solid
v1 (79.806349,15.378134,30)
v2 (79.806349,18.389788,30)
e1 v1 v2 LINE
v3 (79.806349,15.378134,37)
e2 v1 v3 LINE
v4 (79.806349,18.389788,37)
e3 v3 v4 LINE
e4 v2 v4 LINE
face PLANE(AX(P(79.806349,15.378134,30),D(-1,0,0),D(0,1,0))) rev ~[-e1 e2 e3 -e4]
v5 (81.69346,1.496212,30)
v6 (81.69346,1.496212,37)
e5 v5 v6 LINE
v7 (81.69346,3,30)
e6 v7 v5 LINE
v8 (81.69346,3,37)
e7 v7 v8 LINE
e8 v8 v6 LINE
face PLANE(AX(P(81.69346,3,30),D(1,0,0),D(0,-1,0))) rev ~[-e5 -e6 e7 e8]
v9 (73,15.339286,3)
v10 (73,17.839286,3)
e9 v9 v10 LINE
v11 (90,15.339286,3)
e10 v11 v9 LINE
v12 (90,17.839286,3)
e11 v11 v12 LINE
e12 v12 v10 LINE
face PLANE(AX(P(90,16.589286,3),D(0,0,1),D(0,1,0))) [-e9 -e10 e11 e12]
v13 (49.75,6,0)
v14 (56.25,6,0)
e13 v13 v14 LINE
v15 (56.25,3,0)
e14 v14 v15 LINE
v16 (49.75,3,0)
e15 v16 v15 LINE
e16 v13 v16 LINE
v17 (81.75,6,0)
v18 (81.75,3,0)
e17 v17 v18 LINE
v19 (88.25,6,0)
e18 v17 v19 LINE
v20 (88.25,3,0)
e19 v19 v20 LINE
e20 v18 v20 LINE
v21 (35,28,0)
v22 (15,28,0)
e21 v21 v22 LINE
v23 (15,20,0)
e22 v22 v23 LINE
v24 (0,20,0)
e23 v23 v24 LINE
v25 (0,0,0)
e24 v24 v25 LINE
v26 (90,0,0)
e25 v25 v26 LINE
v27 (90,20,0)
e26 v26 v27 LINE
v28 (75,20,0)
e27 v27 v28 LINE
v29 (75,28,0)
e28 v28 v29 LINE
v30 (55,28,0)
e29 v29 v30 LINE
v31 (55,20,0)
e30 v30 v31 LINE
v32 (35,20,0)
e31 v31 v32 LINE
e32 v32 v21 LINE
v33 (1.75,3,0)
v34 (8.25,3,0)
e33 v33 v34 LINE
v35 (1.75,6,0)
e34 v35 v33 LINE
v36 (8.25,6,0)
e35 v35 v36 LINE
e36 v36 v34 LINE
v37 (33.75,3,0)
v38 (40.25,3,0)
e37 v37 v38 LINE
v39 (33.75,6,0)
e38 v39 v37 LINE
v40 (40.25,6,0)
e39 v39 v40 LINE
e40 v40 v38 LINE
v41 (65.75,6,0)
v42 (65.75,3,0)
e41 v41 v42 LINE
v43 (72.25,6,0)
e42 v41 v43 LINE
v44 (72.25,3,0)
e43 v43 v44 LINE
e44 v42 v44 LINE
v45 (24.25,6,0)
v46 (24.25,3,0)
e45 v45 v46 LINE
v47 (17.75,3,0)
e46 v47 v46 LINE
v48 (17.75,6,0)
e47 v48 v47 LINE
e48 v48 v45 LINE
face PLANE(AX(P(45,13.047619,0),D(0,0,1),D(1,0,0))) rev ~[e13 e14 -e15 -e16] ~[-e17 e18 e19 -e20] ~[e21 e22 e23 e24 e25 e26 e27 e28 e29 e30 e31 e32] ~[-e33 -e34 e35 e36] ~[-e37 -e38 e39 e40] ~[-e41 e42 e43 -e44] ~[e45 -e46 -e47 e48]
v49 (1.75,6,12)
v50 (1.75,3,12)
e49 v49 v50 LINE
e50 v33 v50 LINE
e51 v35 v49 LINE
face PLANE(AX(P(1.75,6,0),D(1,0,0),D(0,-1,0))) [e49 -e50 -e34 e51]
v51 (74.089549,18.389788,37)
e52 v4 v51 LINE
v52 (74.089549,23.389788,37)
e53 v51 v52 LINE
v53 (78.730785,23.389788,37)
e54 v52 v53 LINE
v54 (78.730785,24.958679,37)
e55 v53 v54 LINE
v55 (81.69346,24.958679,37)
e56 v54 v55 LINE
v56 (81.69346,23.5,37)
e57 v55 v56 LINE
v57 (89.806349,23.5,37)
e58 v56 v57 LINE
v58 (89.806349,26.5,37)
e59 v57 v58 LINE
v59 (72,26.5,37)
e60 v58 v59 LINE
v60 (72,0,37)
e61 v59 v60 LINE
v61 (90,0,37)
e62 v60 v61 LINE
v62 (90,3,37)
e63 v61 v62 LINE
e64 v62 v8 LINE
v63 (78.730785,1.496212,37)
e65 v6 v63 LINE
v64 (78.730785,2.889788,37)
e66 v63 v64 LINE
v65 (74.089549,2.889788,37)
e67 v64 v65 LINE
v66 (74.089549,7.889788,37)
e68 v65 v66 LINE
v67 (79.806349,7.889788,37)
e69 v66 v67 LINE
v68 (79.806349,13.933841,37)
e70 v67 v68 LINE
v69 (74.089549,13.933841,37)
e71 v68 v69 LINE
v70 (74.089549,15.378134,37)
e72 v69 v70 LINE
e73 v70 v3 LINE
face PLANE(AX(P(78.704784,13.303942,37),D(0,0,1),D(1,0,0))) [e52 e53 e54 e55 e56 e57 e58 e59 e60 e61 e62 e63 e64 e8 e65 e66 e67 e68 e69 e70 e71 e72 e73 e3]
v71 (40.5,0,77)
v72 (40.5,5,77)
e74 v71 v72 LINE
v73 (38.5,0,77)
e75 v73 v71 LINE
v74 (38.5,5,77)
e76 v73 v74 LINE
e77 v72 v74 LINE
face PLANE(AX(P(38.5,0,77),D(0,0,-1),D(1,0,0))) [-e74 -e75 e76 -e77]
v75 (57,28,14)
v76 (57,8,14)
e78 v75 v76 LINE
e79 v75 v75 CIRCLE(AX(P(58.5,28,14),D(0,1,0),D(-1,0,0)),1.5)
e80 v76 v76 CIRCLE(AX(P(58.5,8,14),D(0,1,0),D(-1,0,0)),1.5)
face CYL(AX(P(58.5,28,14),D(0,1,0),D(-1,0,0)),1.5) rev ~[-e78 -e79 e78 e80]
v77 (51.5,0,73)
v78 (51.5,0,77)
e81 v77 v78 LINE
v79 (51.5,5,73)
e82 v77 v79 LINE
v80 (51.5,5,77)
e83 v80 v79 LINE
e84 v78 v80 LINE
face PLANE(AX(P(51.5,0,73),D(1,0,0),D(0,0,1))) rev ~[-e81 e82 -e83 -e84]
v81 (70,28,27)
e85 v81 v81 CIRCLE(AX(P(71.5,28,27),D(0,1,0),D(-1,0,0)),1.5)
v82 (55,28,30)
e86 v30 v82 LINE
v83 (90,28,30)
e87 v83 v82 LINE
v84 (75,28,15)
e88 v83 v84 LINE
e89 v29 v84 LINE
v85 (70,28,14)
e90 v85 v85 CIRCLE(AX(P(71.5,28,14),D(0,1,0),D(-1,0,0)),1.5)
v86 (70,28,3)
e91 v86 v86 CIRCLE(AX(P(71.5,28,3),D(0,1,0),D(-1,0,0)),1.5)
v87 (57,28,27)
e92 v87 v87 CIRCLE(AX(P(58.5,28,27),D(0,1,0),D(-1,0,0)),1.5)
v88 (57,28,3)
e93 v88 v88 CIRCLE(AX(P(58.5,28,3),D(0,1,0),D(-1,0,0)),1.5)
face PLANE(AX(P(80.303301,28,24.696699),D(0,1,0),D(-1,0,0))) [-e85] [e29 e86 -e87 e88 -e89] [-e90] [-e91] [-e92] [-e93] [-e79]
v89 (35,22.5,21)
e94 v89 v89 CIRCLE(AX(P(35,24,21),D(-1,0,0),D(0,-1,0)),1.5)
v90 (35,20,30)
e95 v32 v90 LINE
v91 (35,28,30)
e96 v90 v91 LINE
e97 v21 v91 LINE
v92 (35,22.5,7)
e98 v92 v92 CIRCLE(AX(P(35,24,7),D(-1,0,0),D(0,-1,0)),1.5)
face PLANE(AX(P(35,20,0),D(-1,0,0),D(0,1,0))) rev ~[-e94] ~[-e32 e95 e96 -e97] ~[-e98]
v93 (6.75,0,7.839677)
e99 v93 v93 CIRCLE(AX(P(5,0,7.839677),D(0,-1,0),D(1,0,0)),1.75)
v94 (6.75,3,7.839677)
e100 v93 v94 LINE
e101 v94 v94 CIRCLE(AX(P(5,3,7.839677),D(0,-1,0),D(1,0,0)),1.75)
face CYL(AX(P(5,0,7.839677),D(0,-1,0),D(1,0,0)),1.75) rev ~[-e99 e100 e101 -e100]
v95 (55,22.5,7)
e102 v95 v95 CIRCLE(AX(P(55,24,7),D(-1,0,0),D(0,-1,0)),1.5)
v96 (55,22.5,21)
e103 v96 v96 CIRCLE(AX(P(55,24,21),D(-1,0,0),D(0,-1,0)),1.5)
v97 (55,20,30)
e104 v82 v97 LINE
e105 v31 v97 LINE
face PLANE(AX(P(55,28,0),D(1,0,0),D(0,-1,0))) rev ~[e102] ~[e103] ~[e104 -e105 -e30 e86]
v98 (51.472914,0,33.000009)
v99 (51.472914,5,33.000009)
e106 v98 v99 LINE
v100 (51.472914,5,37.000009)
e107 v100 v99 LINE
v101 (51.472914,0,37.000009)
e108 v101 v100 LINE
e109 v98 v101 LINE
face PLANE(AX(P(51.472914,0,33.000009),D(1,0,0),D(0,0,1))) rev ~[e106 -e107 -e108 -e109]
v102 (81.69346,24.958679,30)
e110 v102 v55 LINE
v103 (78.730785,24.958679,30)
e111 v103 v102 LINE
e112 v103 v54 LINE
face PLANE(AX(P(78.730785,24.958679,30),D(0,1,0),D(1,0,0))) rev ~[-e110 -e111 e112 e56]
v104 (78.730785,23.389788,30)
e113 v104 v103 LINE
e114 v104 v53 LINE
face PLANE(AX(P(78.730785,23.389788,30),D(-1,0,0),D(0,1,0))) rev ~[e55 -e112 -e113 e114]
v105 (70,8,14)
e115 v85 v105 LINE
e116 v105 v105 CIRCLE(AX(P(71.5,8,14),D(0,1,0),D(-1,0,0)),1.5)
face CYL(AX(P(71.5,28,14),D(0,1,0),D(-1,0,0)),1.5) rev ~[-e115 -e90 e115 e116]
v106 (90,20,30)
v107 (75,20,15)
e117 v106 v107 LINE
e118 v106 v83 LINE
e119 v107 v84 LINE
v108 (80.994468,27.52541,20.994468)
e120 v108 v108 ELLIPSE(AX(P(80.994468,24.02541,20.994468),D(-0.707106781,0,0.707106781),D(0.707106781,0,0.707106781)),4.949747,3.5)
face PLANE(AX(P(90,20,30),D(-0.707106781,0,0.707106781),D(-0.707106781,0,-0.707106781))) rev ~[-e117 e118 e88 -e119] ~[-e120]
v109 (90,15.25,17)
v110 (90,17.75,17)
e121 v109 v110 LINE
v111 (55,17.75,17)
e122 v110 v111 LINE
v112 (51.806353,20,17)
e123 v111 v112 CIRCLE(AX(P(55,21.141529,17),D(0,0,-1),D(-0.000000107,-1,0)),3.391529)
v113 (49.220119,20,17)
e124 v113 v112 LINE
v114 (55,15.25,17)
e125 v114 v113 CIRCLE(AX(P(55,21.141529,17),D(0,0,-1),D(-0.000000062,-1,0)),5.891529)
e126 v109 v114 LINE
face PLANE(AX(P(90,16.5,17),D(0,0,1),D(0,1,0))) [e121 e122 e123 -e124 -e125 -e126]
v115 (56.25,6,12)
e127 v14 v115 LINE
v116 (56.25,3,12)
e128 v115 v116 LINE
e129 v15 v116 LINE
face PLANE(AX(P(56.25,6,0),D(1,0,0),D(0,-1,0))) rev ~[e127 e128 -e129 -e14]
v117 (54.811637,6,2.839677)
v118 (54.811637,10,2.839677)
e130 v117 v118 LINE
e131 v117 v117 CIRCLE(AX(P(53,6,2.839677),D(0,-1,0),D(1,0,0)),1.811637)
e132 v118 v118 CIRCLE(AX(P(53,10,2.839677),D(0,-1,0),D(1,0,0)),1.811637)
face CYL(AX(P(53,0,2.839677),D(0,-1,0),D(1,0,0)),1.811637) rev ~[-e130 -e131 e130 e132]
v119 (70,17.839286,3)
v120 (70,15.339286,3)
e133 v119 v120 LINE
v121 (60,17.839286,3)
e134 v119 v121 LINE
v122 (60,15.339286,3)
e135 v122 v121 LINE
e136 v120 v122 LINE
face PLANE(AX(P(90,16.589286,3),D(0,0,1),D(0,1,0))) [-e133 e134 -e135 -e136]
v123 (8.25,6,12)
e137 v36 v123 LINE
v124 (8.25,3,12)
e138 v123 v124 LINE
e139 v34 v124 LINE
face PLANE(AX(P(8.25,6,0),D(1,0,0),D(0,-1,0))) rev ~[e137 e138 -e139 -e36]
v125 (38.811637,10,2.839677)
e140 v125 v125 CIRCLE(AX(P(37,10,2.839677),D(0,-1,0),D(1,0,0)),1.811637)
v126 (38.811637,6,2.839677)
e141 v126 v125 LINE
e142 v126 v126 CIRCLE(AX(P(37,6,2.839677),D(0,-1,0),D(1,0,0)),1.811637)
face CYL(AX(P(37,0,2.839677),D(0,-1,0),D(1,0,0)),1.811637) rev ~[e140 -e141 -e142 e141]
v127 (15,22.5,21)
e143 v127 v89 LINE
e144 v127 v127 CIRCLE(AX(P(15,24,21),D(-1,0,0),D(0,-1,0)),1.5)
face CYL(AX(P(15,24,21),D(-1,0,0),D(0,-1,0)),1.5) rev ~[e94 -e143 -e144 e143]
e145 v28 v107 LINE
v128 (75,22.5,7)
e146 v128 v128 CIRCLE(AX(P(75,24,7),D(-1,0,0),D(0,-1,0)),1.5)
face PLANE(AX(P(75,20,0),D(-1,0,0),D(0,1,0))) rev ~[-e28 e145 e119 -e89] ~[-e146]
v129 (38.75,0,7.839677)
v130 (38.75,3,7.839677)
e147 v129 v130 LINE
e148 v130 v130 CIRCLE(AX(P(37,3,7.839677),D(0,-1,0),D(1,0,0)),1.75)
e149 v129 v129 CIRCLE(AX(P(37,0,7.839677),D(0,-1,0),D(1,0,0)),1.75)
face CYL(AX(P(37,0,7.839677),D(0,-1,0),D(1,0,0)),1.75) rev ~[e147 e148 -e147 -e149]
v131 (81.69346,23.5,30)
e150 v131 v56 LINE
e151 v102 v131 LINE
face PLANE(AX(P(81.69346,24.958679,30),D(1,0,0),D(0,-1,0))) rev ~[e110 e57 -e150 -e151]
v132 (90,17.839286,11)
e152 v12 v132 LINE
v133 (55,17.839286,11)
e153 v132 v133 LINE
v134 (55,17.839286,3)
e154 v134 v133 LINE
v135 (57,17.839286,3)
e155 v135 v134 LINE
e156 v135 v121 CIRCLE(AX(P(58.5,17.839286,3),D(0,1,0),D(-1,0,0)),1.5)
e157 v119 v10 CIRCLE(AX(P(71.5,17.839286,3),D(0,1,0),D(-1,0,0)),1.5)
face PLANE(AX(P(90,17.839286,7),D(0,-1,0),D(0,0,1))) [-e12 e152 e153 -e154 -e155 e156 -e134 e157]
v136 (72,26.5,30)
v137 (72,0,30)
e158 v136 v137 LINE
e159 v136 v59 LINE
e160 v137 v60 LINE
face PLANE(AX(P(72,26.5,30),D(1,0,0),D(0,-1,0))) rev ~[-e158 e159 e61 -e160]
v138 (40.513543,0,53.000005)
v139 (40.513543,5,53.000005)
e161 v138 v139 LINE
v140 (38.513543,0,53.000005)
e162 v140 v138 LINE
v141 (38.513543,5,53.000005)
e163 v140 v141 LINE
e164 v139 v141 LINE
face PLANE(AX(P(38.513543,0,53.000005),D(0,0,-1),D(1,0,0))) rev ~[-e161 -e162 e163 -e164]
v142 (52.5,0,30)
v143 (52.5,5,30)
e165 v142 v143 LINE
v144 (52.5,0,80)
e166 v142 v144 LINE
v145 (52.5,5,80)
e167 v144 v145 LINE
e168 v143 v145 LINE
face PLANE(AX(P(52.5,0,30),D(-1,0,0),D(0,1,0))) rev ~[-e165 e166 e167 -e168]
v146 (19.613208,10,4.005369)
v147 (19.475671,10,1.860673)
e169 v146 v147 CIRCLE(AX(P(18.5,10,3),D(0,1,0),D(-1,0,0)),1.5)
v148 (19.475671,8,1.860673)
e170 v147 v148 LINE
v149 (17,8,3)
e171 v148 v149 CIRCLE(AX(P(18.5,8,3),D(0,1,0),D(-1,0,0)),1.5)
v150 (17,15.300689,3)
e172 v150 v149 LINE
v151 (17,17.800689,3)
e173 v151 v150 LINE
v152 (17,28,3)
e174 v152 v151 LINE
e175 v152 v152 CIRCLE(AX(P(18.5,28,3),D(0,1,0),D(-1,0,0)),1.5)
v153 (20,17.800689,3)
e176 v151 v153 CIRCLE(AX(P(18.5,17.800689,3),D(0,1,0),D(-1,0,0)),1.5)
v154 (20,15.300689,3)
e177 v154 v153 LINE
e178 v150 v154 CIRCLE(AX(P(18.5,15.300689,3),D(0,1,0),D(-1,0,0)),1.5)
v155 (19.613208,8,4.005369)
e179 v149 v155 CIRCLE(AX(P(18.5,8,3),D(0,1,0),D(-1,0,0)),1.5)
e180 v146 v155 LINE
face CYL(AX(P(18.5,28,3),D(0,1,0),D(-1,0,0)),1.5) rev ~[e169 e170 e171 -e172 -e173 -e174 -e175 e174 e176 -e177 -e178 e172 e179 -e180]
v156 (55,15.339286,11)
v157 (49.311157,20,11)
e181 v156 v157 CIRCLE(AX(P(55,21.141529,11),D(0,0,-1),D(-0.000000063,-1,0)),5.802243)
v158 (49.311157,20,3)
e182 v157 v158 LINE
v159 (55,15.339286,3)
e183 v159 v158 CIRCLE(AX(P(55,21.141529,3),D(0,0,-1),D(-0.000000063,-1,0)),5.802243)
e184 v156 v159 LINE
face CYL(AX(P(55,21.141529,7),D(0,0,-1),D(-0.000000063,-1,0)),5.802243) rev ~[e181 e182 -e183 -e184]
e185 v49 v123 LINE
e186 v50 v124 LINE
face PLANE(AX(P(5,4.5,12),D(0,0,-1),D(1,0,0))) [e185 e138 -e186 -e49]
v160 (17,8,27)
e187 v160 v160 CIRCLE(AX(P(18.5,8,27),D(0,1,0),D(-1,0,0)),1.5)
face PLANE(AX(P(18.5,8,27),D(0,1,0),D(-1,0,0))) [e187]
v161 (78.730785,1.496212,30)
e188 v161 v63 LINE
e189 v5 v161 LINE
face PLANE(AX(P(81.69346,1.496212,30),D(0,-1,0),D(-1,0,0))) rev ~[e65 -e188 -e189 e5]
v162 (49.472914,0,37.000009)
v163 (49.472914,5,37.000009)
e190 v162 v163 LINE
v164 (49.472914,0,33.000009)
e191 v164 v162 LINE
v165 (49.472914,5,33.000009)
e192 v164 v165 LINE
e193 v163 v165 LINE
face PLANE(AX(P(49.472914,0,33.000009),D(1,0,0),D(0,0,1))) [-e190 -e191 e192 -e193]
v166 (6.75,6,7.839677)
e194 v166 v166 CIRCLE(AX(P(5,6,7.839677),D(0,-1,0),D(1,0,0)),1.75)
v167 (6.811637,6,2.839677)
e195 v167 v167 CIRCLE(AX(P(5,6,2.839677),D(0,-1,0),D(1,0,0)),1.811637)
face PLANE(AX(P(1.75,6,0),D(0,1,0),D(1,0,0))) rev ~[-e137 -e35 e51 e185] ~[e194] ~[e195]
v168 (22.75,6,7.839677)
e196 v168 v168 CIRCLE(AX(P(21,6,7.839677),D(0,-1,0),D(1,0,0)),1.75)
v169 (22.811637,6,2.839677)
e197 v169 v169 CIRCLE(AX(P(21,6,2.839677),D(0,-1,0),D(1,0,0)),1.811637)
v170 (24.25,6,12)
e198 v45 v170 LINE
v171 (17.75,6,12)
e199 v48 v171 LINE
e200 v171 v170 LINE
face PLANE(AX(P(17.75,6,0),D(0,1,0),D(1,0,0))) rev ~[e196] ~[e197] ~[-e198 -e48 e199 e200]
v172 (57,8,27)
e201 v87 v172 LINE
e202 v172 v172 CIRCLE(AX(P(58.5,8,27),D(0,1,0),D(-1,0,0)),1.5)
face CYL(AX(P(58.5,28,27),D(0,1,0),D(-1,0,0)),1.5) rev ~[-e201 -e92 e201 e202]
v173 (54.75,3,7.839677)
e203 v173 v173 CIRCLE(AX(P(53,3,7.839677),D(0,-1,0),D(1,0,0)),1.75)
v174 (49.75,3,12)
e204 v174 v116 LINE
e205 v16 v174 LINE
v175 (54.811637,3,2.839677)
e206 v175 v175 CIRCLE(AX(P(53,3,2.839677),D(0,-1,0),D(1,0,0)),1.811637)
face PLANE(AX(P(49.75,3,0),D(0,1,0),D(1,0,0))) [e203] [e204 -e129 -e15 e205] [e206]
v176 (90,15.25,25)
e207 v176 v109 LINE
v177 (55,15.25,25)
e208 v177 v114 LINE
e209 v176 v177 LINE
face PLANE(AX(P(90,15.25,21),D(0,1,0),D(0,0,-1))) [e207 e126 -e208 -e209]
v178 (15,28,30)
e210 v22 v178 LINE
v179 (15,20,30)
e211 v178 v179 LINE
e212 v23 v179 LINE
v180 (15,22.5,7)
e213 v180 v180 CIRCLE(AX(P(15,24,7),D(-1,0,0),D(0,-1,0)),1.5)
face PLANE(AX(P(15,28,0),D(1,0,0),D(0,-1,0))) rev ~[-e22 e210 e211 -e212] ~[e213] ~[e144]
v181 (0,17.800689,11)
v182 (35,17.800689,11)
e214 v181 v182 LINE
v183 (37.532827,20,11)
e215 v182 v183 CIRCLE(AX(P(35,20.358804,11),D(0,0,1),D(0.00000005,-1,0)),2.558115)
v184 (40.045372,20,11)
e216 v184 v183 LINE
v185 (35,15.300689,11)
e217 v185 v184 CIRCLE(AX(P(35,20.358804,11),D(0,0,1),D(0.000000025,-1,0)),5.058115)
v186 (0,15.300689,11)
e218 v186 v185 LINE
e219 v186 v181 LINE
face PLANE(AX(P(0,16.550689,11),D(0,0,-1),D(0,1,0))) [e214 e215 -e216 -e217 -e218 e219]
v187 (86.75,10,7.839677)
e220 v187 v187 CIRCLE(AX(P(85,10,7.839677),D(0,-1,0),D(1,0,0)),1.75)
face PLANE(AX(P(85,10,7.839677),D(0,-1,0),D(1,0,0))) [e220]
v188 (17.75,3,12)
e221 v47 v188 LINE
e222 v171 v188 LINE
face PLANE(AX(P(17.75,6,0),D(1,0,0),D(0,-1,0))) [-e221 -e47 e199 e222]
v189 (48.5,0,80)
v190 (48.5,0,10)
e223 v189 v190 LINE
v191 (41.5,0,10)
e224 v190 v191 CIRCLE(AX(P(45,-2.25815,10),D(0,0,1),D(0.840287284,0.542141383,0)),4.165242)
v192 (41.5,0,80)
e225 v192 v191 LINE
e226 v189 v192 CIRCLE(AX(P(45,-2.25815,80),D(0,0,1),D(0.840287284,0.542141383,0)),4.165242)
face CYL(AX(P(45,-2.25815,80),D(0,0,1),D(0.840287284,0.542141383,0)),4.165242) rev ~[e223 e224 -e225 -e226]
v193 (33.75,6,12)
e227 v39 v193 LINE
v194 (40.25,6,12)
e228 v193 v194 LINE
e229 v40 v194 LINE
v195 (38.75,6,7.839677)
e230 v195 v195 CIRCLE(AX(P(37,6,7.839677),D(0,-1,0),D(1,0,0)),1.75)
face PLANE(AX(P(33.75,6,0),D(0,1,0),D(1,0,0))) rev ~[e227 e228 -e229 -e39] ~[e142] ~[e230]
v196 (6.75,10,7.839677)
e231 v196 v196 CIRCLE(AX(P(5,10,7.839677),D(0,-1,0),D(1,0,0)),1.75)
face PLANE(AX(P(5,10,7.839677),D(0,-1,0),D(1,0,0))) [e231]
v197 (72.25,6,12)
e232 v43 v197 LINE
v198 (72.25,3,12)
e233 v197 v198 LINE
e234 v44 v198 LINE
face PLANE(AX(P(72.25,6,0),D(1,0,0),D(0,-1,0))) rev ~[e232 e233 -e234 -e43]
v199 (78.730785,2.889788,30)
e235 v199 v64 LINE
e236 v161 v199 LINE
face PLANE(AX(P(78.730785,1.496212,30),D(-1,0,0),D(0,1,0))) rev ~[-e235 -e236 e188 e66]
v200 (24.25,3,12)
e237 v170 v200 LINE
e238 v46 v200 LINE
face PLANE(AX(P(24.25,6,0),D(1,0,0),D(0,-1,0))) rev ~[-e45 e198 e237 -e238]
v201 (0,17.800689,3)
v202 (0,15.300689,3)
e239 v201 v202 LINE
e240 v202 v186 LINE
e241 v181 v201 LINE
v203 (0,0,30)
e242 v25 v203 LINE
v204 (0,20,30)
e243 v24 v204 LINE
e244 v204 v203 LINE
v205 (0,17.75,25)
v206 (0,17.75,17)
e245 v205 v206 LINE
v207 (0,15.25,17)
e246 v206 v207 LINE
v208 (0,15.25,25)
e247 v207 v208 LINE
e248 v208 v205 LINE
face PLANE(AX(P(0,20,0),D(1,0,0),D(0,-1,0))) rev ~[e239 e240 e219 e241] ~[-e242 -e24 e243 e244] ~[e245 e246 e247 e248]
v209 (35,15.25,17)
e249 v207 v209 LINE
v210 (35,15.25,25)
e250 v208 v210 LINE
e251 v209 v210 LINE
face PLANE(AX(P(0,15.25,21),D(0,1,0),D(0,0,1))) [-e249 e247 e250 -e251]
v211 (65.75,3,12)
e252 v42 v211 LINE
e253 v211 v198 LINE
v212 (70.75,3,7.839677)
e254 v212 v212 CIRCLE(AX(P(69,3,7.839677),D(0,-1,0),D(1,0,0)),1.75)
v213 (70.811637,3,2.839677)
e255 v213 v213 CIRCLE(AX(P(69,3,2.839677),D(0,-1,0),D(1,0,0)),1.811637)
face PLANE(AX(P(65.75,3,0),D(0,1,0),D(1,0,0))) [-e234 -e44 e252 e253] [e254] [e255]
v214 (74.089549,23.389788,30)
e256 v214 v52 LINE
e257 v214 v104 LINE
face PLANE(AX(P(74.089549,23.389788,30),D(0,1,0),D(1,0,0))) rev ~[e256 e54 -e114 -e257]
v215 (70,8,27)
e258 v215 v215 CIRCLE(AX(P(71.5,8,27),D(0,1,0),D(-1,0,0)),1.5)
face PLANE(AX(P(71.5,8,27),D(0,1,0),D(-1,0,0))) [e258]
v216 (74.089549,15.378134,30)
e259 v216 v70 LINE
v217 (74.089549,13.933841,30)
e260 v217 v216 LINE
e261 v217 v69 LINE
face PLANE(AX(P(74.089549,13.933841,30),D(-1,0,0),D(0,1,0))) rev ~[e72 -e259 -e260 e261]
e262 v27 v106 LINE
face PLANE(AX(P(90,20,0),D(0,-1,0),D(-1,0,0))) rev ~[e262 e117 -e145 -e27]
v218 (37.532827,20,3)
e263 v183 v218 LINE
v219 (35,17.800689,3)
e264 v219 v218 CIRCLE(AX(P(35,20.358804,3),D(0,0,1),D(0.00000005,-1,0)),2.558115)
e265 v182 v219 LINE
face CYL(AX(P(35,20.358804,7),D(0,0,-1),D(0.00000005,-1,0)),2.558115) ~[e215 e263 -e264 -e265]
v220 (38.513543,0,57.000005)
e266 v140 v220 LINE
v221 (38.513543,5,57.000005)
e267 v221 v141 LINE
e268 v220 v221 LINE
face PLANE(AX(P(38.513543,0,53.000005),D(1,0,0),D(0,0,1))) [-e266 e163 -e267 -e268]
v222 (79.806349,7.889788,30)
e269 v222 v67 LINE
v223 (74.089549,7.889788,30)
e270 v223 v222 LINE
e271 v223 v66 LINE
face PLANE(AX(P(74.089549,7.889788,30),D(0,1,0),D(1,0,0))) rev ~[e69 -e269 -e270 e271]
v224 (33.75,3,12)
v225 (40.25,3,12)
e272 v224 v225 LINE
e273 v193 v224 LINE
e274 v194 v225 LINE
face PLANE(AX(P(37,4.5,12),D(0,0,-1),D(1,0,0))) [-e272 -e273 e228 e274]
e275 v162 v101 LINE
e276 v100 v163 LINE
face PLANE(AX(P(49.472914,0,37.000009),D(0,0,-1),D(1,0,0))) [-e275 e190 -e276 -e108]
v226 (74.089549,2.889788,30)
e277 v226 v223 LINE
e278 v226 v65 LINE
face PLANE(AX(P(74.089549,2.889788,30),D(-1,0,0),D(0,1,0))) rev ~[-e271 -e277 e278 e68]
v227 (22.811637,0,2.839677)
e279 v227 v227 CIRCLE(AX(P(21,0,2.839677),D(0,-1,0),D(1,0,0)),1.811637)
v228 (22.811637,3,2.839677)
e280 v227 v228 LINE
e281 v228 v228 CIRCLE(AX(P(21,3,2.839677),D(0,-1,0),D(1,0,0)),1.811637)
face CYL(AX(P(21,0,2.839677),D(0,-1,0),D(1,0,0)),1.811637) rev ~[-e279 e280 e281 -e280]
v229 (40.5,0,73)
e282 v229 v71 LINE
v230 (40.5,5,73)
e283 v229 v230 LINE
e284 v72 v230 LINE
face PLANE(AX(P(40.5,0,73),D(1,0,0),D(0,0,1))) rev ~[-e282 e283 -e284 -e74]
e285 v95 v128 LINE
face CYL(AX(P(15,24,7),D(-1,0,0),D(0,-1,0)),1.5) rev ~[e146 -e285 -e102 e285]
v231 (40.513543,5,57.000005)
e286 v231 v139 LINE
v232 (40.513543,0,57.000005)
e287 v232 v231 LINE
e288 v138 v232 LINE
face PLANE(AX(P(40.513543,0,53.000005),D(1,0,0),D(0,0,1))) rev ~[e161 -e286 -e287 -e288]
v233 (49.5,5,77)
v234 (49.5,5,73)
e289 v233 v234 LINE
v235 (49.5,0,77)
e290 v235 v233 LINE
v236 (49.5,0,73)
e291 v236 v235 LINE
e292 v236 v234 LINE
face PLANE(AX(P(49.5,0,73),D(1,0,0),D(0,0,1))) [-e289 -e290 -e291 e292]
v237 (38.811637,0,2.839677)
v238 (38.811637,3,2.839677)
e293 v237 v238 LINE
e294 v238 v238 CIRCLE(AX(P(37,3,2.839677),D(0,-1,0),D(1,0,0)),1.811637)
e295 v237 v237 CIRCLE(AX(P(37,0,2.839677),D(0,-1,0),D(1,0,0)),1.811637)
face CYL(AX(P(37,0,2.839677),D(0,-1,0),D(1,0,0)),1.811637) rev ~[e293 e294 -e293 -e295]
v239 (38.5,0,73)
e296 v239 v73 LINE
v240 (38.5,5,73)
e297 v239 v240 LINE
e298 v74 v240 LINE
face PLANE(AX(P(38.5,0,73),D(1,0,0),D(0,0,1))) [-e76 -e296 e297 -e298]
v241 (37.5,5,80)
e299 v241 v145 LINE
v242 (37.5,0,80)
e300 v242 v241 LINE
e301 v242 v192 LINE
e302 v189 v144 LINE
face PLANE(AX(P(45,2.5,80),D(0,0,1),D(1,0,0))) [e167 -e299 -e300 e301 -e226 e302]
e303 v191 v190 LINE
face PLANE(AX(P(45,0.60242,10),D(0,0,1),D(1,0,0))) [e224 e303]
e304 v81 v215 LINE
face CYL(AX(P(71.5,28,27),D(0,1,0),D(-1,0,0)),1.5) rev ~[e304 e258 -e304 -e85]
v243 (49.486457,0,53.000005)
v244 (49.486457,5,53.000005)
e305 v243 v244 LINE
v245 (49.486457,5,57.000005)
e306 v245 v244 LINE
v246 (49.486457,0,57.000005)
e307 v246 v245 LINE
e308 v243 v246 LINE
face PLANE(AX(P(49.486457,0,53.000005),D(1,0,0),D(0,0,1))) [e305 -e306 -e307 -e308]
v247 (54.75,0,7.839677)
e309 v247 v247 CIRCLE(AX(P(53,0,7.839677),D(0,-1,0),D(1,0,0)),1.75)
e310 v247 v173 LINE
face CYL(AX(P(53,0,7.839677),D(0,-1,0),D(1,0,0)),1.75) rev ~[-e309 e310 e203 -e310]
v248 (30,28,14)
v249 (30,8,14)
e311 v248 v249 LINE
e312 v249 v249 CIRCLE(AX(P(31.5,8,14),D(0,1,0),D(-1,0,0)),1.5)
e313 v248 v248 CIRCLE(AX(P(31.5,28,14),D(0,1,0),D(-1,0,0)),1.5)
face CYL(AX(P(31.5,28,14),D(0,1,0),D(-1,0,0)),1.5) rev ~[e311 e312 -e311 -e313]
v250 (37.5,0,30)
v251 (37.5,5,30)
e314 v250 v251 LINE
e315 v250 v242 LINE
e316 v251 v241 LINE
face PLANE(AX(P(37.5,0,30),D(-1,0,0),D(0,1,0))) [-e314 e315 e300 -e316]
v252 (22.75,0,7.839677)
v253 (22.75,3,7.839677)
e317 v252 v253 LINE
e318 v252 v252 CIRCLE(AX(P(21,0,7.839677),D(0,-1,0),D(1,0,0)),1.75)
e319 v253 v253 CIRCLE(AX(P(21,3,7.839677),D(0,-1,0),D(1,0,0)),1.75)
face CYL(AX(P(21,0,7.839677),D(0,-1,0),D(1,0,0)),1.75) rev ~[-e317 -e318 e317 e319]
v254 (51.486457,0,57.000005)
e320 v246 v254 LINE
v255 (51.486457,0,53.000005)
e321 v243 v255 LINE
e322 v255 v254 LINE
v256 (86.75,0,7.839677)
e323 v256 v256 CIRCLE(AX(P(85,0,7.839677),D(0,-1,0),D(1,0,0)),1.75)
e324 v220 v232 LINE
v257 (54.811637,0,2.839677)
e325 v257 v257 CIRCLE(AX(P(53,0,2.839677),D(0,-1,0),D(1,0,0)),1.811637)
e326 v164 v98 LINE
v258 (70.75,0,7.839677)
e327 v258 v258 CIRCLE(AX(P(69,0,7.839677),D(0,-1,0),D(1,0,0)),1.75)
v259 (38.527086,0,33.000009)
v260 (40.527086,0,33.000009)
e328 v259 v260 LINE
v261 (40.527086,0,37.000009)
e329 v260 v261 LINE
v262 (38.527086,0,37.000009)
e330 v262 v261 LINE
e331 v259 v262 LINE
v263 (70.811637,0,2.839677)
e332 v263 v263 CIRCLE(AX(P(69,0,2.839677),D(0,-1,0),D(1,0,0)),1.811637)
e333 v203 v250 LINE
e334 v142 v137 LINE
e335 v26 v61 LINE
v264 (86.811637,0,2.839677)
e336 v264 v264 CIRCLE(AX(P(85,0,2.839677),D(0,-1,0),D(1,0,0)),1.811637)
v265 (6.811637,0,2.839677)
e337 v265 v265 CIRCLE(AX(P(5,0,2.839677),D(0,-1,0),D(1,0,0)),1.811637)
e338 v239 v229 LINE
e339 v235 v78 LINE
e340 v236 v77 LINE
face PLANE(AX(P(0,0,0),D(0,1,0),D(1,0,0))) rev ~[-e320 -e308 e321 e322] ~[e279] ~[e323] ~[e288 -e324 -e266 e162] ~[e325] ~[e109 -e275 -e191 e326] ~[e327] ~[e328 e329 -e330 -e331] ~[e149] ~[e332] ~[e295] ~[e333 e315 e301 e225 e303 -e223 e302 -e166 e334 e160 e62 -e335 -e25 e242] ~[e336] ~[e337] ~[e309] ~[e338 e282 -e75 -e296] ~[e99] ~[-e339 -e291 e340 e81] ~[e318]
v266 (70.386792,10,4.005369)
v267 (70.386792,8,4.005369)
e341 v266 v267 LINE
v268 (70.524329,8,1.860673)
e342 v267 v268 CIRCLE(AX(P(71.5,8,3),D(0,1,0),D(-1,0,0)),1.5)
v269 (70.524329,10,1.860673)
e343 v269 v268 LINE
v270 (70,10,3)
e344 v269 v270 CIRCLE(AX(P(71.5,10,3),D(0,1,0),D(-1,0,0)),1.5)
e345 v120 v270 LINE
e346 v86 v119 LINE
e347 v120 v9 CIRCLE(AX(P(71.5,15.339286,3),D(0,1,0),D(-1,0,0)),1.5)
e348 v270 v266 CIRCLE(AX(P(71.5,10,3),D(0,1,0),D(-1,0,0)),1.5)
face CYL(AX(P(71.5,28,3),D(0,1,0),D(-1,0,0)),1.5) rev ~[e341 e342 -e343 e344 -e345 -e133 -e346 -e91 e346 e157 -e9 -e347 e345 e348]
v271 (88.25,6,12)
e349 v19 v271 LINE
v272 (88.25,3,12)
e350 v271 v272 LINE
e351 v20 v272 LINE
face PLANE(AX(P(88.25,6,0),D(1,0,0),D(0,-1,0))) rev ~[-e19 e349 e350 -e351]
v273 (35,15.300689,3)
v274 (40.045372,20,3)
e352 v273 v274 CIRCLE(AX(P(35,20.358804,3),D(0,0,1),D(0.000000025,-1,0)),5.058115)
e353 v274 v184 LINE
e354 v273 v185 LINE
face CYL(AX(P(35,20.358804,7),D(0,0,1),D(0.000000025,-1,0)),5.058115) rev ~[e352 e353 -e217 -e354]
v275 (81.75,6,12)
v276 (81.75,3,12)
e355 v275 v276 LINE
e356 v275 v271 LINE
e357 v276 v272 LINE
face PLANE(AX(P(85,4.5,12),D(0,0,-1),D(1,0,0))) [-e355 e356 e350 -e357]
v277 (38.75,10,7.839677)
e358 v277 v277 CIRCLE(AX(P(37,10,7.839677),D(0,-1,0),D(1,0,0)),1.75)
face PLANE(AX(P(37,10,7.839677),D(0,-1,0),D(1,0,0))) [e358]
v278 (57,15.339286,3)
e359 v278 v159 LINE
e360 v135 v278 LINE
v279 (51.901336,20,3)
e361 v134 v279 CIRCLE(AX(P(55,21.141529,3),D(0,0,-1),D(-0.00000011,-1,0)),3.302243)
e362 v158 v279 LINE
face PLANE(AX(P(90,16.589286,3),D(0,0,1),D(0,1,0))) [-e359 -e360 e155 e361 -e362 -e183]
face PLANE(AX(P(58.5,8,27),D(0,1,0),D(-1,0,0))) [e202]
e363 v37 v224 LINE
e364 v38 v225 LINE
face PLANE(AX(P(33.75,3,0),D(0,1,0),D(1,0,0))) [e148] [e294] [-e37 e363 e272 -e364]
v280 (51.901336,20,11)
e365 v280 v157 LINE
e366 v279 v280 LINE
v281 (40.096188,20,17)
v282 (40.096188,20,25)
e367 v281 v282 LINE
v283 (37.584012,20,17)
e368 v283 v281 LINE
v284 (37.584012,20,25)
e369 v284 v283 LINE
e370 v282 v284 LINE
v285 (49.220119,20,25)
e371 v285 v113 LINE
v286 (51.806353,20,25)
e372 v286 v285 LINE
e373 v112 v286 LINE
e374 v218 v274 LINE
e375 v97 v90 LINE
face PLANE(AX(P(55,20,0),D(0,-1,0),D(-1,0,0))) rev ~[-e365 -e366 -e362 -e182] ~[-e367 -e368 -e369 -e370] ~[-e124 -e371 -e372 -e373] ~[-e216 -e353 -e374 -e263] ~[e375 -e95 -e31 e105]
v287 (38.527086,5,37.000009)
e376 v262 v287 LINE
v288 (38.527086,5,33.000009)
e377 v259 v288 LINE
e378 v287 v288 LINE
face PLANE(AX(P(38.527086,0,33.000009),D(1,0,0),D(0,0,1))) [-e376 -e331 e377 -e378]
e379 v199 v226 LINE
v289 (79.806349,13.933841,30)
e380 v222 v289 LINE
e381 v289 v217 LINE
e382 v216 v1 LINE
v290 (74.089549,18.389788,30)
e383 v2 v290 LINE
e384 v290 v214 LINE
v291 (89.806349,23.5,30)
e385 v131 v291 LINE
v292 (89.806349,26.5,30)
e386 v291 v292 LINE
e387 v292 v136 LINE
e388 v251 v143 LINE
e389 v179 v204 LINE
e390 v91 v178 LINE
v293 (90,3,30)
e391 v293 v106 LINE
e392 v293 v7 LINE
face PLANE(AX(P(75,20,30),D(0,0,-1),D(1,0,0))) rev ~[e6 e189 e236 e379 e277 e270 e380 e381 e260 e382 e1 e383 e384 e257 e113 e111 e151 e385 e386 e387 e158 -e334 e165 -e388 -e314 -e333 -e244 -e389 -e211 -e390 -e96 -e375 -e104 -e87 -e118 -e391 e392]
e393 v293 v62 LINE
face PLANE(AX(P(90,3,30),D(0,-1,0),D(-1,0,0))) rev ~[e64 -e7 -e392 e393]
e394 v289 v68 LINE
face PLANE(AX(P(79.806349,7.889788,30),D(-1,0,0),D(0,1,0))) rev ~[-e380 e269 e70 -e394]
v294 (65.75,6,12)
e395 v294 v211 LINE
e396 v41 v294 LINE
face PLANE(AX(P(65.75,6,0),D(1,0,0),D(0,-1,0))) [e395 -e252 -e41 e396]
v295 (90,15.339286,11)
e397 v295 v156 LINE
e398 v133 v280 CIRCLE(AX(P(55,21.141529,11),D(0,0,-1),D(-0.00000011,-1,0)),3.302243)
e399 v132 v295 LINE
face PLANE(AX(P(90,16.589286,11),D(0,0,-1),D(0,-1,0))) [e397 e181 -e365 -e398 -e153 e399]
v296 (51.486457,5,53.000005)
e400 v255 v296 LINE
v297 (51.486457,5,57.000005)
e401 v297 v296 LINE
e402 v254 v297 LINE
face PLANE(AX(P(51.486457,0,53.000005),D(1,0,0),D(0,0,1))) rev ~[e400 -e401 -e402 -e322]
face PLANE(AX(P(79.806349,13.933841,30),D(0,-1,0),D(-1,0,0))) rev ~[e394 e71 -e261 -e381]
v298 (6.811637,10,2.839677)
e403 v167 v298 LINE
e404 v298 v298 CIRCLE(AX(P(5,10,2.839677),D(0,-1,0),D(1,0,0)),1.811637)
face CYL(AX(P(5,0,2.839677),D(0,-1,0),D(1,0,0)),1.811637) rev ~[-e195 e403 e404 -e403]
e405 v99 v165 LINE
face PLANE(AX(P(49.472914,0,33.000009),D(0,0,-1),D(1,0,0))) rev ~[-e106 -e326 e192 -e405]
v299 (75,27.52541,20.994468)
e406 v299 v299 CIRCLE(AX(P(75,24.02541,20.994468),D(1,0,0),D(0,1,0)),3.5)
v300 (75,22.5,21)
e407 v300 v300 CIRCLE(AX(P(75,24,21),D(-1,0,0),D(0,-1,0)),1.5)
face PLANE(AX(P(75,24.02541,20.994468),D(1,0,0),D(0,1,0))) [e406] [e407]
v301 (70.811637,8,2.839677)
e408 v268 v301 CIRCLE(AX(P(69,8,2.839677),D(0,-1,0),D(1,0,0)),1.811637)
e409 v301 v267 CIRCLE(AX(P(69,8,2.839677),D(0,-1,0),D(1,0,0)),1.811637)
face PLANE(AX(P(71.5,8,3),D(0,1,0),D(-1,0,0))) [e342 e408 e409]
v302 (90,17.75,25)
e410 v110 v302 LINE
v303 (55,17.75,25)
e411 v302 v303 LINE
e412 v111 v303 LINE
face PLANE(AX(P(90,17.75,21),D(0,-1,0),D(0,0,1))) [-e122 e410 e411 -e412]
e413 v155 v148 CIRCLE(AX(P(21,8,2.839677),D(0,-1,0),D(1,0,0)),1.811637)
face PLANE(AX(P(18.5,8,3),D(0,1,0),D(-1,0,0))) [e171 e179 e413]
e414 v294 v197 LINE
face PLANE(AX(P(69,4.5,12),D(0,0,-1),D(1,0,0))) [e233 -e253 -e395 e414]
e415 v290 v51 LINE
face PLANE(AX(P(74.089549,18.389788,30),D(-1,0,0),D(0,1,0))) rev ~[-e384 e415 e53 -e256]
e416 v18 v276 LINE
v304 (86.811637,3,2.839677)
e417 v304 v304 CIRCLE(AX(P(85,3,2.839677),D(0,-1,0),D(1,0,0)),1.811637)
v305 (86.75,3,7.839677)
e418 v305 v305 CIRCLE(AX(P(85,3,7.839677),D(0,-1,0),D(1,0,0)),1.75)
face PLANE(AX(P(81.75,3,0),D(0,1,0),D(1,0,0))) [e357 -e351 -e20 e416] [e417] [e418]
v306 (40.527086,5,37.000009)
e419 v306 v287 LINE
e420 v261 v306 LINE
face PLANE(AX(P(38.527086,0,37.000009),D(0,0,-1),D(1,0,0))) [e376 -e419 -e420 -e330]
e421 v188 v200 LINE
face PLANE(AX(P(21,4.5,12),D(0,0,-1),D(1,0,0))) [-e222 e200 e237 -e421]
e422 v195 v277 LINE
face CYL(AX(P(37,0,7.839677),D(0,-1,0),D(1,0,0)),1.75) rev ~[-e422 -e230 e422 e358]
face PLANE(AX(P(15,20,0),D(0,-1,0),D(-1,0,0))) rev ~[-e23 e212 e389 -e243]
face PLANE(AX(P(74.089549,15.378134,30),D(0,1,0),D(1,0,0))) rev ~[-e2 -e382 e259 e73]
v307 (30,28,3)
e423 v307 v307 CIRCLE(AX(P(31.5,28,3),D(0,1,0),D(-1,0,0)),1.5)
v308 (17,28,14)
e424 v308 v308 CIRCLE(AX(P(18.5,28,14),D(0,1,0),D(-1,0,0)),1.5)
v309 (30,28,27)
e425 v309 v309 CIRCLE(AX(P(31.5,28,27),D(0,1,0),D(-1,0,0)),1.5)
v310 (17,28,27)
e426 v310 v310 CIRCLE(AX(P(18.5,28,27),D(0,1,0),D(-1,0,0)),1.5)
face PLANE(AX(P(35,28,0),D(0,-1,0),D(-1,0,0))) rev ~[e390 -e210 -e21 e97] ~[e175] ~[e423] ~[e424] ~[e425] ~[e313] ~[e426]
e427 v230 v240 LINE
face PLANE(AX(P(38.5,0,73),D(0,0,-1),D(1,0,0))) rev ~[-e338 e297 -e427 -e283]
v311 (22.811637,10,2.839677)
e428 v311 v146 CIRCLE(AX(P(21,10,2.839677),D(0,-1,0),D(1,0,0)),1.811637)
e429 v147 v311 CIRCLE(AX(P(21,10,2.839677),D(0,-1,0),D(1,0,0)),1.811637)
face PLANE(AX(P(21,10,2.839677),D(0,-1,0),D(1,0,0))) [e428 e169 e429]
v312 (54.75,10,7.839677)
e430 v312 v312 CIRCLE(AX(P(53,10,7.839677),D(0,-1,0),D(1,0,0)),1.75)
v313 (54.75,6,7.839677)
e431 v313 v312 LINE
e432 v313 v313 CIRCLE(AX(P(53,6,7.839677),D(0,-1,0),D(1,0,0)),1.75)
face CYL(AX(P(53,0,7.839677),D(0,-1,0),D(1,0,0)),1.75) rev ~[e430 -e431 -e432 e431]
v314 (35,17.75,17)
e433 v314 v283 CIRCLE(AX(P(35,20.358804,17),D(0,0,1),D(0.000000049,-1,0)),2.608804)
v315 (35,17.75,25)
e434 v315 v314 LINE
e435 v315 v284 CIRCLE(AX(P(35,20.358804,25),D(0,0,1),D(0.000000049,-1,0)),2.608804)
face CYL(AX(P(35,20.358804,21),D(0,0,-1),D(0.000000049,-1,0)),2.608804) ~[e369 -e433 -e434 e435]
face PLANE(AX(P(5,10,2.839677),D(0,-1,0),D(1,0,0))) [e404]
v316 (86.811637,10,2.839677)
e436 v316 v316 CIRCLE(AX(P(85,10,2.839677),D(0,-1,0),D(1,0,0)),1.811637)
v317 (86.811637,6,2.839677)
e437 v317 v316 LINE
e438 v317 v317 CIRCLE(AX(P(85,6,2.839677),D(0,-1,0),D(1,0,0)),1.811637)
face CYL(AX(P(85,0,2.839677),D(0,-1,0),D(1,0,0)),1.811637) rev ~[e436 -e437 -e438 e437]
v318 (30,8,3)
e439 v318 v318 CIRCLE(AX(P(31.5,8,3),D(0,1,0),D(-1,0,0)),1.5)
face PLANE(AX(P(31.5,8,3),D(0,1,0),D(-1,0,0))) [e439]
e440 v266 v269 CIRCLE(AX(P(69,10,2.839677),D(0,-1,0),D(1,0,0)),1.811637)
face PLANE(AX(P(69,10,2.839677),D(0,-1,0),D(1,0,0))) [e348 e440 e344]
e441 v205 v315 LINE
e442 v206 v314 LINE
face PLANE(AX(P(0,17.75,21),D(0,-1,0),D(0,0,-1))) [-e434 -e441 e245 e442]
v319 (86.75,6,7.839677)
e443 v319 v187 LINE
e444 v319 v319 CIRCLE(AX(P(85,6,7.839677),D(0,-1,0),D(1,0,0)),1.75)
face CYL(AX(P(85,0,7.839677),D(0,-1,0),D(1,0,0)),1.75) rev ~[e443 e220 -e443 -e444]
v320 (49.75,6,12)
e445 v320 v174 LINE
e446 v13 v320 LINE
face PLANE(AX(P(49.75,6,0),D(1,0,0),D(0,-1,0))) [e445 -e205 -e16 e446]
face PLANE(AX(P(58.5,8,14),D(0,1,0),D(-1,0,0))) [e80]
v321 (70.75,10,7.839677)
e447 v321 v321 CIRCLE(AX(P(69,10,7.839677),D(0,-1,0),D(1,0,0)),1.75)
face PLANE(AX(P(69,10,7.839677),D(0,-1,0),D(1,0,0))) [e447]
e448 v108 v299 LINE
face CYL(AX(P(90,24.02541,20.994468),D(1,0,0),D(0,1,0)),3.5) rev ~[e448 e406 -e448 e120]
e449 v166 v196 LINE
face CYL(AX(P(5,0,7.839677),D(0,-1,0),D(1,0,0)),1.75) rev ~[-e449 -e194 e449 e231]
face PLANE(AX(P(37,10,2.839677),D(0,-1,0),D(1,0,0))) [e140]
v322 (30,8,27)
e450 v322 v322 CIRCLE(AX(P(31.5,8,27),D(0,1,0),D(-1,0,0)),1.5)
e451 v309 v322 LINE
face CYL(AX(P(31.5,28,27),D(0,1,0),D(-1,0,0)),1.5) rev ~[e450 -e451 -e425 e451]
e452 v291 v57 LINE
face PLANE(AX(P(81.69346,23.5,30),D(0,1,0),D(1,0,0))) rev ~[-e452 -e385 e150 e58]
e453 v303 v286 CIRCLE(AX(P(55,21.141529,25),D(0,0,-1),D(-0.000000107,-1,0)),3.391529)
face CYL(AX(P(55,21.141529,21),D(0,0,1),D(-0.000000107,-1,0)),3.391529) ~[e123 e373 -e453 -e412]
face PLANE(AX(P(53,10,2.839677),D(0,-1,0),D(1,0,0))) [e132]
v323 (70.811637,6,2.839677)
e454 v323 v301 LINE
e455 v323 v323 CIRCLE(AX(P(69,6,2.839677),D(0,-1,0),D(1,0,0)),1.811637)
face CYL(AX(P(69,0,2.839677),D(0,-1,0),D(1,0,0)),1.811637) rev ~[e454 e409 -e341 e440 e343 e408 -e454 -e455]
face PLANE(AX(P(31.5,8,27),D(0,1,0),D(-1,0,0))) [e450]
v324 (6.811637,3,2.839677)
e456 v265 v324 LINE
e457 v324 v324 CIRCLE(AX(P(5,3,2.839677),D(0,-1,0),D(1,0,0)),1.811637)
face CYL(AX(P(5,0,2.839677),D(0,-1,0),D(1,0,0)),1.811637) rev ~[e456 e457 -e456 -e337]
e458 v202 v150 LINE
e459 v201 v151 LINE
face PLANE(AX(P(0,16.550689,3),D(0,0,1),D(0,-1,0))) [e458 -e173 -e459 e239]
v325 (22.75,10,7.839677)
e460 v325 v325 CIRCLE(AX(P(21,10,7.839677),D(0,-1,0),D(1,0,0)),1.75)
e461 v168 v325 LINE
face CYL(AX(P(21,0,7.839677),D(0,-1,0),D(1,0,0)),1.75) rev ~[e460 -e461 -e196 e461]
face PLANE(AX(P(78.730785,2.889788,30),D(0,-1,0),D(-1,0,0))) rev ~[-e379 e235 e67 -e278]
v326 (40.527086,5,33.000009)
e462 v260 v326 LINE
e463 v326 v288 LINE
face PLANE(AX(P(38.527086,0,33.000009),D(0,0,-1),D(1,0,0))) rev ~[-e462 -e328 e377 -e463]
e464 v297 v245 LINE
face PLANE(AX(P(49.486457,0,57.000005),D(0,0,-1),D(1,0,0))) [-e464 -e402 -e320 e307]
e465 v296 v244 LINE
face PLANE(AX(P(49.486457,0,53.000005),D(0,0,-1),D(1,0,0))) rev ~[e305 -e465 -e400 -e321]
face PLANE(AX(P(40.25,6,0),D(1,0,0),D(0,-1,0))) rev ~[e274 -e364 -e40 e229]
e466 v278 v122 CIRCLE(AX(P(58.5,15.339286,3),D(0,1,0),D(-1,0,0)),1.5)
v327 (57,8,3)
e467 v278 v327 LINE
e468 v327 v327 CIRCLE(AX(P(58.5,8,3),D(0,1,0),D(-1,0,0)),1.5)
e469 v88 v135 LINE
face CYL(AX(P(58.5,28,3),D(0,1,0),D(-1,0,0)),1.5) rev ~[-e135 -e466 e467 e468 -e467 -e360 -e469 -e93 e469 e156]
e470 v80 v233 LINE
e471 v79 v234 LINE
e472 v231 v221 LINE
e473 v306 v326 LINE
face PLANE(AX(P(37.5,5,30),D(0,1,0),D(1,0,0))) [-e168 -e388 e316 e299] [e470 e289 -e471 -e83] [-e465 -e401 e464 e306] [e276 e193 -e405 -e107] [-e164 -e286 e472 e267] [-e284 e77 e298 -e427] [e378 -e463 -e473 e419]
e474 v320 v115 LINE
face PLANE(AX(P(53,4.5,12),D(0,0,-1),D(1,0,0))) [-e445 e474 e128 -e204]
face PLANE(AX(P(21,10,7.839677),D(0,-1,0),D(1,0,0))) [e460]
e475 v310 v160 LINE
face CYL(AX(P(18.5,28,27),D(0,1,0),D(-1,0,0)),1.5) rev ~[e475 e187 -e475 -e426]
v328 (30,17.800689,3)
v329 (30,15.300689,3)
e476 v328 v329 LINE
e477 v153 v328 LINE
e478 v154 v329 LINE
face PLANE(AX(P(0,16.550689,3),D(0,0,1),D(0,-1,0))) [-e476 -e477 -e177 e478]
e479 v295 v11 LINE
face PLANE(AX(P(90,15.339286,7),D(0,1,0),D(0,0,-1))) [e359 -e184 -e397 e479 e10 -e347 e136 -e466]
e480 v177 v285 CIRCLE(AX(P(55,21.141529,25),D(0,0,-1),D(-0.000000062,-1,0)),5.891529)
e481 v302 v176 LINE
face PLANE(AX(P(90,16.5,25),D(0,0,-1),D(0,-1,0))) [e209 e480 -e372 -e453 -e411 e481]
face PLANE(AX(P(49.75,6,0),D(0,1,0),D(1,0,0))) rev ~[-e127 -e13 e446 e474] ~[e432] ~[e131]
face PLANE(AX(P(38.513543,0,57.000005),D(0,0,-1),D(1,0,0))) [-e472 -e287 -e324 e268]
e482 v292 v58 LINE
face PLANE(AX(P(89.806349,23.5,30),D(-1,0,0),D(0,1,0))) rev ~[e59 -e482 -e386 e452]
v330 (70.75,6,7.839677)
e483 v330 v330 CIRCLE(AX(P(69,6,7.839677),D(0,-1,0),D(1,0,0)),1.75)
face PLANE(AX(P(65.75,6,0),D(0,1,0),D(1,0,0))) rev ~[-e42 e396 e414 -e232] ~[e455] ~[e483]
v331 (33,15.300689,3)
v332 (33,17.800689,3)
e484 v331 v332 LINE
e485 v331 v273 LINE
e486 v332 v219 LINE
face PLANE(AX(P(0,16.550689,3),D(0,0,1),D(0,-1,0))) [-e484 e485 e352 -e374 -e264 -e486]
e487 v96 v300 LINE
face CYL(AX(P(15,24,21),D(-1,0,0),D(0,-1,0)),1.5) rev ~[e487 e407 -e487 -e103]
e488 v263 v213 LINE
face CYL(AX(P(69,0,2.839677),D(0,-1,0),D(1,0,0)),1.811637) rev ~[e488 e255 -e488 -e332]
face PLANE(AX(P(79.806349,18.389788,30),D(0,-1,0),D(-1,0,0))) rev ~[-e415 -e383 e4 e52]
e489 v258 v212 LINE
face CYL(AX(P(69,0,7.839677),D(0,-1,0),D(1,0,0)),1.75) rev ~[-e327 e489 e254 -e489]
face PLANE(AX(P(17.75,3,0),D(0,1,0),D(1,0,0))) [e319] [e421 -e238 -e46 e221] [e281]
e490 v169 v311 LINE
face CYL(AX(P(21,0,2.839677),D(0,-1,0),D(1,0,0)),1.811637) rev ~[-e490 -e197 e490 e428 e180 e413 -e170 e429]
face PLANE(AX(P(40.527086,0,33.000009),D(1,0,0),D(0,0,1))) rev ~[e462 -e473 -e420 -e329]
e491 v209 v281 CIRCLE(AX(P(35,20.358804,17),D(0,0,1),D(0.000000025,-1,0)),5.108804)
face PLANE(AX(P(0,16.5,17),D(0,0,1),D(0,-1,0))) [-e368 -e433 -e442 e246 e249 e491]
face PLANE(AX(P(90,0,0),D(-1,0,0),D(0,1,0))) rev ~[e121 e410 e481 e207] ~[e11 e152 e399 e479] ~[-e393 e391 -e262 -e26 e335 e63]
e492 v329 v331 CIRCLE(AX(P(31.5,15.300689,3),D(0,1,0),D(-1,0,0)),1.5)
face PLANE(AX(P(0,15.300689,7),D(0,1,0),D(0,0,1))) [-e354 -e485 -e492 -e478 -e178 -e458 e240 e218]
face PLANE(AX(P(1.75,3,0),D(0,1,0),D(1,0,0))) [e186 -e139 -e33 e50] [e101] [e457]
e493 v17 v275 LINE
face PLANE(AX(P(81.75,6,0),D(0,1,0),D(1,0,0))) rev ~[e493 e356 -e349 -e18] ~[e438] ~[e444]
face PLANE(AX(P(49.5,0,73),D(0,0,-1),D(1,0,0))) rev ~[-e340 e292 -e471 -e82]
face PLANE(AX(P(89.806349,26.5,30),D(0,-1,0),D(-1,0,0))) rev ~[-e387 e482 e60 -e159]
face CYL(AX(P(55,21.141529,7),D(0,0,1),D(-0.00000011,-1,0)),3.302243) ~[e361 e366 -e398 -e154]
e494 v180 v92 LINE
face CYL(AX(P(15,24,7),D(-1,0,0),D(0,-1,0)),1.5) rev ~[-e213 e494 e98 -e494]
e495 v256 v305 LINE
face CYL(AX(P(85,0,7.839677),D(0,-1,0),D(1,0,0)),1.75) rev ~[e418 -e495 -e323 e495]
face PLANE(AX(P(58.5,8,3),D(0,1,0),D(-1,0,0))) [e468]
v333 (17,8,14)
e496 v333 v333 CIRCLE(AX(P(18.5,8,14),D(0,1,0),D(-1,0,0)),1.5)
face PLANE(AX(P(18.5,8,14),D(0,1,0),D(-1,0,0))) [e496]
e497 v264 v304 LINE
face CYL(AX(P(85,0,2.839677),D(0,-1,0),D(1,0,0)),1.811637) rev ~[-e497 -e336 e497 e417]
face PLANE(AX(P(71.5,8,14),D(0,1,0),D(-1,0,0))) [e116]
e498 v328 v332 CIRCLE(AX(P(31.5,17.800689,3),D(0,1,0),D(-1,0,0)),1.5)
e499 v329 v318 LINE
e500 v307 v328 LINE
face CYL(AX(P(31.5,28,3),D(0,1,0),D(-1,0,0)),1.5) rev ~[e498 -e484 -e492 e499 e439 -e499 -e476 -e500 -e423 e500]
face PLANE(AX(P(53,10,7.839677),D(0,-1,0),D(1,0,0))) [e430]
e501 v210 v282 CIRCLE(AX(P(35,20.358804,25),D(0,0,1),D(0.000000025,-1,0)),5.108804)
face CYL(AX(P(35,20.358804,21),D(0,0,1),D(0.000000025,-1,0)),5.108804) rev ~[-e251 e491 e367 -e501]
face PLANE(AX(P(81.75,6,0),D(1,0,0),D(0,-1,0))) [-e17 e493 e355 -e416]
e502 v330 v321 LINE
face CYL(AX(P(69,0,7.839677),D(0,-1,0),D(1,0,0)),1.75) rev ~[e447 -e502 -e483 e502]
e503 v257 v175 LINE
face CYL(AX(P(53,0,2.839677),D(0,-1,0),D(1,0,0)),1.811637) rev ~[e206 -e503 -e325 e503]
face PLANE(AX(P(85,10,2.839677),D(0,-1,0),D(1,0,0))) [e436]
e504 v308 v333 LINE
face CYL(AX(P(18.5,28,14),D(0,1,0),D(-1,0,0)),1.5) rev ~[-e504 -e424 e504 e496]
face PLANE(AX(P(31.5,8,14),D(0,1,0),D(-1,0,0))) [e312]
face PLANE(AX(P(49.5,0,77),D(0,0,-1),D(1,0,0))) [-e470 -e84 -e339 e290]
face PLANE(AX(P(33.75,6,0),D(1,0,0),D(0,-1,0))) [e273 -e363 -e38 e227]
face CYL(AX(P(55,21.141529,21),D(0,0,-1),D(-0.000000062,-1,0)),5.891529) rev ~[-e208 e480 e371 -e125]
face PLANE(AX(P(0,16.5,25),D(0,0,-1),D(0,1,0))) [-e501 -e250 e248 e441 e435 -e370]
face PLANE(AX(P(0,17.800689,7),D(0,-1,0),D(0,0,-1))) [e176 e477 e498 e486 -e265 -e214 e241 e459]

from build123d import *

# Parameters (mm, degrees)
F1_DEPTH  = 30
F3_W      = 2.5
F3_H      = 8
F5_W      = 2.5
F5_H      = 8
F8_R      = 1.811637
F8_R_2    = 1.75
F10_DEPTH = 10
F9_W      = 6.5
F9_H      = 3
F11_DEPTH = 12
F12_R     = 1.5
F13_DEPTH = 20
F14_W     = 15
F14_H     = 5
F15_DEPTH = 50
F17_DEPTH = 70
F18_W     = 2
F18_H     = 4
F19_DEPTH = 28.001
F22_DEPTH = 8
F7_R      = 1.5
F23_DEPTH = 75.001
F24_R     = 3.5
F25_DEPTH = 15
F26_DEPTH = 7


with BuildPart() as f1:
    # F0 (on Top) → F1 (new body)
    with BuildSketch(Plane.XY):
        Polygon((0, 20), (0, 0), (90, 0), (90, 20), (75, 20), (75, 28), (55, 28), (55, 20), (35, 20), (35, 28), (15, 28), (15, 20), align=None)
    extrude(amount=F1_DEPTH)

    # F4: sweep along a path in F2
    with BuildLine(Plane.XY.offset(30)) as f4_path:
        Line((0, 16.5), (35, 16.5))
        ThreePointArc((35, 16.5), (37.780873, 17.683526), (38.855914, 20.508111))
    # F3 (on face) → F4 (sweep, cut)
    with BuildSketch(Plane(origin=(0, 0, 0), x_dir=(0, -1, 0), z_dir=(-1, 0, 0))):
        with Locations((-16.5, 21)):
            Rectangle(F3_W, F3_H)
        with Locations((-16.550689, 7)):
            Rectangle(F3_W, F3_H)
    sweep(path=f4_path.line, mode=Mode.SUBTRACT)

    # F6: sweep along a path in F2
    with BuildLine(Plane.XY.offset(30)) as f6_path:
        Line((90, 16.5), (55, 16.5))
        ThreePointArc((55, 16.5), (51.896558, 17.690089), (50.384562, 20.650078))
    # F5 (on face) → F6 (sweep, cut)
    with BuildSketch(Plane.YZ.offset(90)):
        with Locations((16.5, 21)):
            Rectangle(F5_W, F5_H)
        with Locations((16.589286, 7)):
            Rectangle(F5_W, F5_H)
    sweep(path=f6_path.line, mode=Mode.SUBTRACT)

    # F8 (on face) → F10 (cut)
    with BuildSketch(Plane.XZ):
        with Locations((5, 2.839677)):
            Circle(F8_R)
        with Locations((5, 7.839677)):
            Circle(F8_R_2)
        with Locations((21, 7.839677)):
            Circle(F8_R_2)
        with Locations((21, 2.839677)):
            Circle(F8_R)
        with Locations((37, 7.839677)):
            Circle(F8_R_2)
        with Locations((37, 2.839677)):
            Circle(F8_R)
        with Locations((53, 7.839677)):
            Circle(F8_R_2)
        with Locations((53, 2.839677)):
            Circle(F8_R)
        with Locations((69, 7.839677)):
            Circle(F8_R_2)
        with Locations((69, 2.839677)):
            Circle(F8_R)
        with Locations((85, 7.839677)):
            Circle(F8_R_2)
        with Locations((85, 2.839677)):
            Circle(F8_R)
    extrude(amount=-F10_DEPTH, mode=Mode.SUBTRACT)

    # F9 (on face) → F11 (cut)
    with BuildSketch(Plane(origin=(0, 0, 0), x_dir=(1, 0, 0), z_dir=(0, 0, -1))):
        with Locations((5, -4.5)):
            Rectangle(F9_W, F9_H)
        with Locations((21, -4.5)):
            Rectangle(F9_W, F9_H)
        with Locations((37, -4.5)):
            Rectangle(F9_W, F9_H)
        with Locations((53, -4.5)):
            Rectangle(F9_W, F9_H)
        with Locations((69, -4.5)):
            Rectangle(F9_W, F9_H)
        with Locations((85, -4.5)):
            Rectangle(F9_W, F9_H)
    extrude(amount=-F11_DEPTH, mode=Mode.SUBTRACT)

    # F12 (on face) → F13 (cut)
    with BuildSketch(Plane(origin=(0, 28, 0), x_dir=(-1, 0, 0), z_dir=(0, 1, 0))):
        with Locations((-71.5, 27)):
            Circle(F12_R)
        with Locations((-58.5, 27)):
            Circle(F12_R)
        with Locations((-71.5, 14)):
            Circle(F12_R)
        with Locations((-58.5, 14)):
            Circle(F12_R)
        with Locations((-71.5, 3)):
            Circle(F12_R)
        with Locations((-58.5, 3)):
            Circle(F12_R)
        with Locations((-31.5, 3)):
            Circle(F12_R)
        with Locations((-18.5, 3)):
            Circle(F12_R)
        with Locations((-18.5, 14)):
            Circle(F12_R)
        with Locations((-31.5, 14)):
            Circle(F12_R)
        with Locations((-31.5, 27)):
            Circle(F12_R)
        with Locations((-18.5, 27)):
            Circle(F12_R)
    extrude(amount=-F13_DEPTH, mode=Mode.SUBTRACT)

    # F14 (on face) → F15 (join)
    with BuildSketch(Plane.XY.offset(30)):
        with Locations((45, 2.5)):
            Rectangle(F14_W, F14_H)
    extrude(amount=F15_DEPTH)

    # F16 (on face) → F17 (cut)
    with BuildSketch(Plane.XY.offset(80)):
        with BuildLine():
            Line((41.5, 0), (48.5, 0))
            ThreePointArc((48.5, 0), (45, 1.907092), (41.5, 0))
        make_face()
    extrude(amount=-F17_DEPTH, mode=Mode.SUBTRACT)

    # F18 (on face) → F19 (cut, through all)
    with BuildSketch(Plane.XZ):
        with Locations((39.5, 75)):
            Rectangle(F18_W, F18_H)
        with Locations((39.513543, 55.000005)):
            Rectangle(F18_W, F18_H)
        with Locations((39.527086, 35.000009)):
            Rectangle(F18_W, F18_H)
        with Locations((50.5, 75)):
            Rectangle(F18_W, F18_H)
        with Locations((50.486457, 55.000005)):
            Rectangle(F18_W, F18_H)
        with Locations((50.472914, 35.000009)):
            Rectangle(F18_W, F18_H)
    extrude(amount=-F19_DEPTH, mode=Mode.SUBTRACT)

    # F21 (on face) → F22 (join)
    with BuildSketch(Plane(origin=(0, 20, 0), x_dir=(-1, 0, 0), z_dir=(0, 1, 0))):
        Polygon((-75, 30), (-90, 30), (-75, 15), align=None)
    extrude(amount=F22_DEPTH)

    # F7 (on face) → F23 (cut, through all)
    with BuildSketch(Plane(origin=(15, 0, 0), x_dir=(0, -1, 0), z_dir=(-1, 0, 0))):
        with Locations((-24, 21)):
            Circle(F7_R)
        with Locations((-24, 7)):
            Circle(F7_R)
    extrude(amount=-F23_DEPTH, mode=Mode.SUBTRACT)

    # F24 (on face) → F25 (cut)
    with BuildSketch(Plane.YZ.offset(90)):
        with Locations((24.02541, 20.994468)):
            Circle(F24_R)
    extrude(amount=-F25_DEPTH, mode=Mode.SUBTRACT)

    # F20 (on face) → F26 (join)
    with BuildSketch(Plane.XY.offset(30)):
        Polygon((81.69346, 24.958679), (81.69346, 23.5), (89.806349, 23.5), (89.806349, 26.5), (72, 26.5), (72, 0), (90, 0), (90, 3), (81.69346, 3), (81.69346, 1.496212), (78.730785, 1.496212), (78.730785, 2.889788), (74.089549, 2.889788), (74.089549, 7.889788), (79.806349, 7.889788), (79.806349, 13.933841), (74.089549, 13.933841), (74.089549, 15.378134), (79.806349, 15.378134), (79.806349, 18.389788), (74.089549, 18.389788), (74.089549, 23.389788), (78.730785, 23.389788), (78.730785, 24.958679), align=None)
    extrude(amount=F26_DEPTH)


solid = f1.part
